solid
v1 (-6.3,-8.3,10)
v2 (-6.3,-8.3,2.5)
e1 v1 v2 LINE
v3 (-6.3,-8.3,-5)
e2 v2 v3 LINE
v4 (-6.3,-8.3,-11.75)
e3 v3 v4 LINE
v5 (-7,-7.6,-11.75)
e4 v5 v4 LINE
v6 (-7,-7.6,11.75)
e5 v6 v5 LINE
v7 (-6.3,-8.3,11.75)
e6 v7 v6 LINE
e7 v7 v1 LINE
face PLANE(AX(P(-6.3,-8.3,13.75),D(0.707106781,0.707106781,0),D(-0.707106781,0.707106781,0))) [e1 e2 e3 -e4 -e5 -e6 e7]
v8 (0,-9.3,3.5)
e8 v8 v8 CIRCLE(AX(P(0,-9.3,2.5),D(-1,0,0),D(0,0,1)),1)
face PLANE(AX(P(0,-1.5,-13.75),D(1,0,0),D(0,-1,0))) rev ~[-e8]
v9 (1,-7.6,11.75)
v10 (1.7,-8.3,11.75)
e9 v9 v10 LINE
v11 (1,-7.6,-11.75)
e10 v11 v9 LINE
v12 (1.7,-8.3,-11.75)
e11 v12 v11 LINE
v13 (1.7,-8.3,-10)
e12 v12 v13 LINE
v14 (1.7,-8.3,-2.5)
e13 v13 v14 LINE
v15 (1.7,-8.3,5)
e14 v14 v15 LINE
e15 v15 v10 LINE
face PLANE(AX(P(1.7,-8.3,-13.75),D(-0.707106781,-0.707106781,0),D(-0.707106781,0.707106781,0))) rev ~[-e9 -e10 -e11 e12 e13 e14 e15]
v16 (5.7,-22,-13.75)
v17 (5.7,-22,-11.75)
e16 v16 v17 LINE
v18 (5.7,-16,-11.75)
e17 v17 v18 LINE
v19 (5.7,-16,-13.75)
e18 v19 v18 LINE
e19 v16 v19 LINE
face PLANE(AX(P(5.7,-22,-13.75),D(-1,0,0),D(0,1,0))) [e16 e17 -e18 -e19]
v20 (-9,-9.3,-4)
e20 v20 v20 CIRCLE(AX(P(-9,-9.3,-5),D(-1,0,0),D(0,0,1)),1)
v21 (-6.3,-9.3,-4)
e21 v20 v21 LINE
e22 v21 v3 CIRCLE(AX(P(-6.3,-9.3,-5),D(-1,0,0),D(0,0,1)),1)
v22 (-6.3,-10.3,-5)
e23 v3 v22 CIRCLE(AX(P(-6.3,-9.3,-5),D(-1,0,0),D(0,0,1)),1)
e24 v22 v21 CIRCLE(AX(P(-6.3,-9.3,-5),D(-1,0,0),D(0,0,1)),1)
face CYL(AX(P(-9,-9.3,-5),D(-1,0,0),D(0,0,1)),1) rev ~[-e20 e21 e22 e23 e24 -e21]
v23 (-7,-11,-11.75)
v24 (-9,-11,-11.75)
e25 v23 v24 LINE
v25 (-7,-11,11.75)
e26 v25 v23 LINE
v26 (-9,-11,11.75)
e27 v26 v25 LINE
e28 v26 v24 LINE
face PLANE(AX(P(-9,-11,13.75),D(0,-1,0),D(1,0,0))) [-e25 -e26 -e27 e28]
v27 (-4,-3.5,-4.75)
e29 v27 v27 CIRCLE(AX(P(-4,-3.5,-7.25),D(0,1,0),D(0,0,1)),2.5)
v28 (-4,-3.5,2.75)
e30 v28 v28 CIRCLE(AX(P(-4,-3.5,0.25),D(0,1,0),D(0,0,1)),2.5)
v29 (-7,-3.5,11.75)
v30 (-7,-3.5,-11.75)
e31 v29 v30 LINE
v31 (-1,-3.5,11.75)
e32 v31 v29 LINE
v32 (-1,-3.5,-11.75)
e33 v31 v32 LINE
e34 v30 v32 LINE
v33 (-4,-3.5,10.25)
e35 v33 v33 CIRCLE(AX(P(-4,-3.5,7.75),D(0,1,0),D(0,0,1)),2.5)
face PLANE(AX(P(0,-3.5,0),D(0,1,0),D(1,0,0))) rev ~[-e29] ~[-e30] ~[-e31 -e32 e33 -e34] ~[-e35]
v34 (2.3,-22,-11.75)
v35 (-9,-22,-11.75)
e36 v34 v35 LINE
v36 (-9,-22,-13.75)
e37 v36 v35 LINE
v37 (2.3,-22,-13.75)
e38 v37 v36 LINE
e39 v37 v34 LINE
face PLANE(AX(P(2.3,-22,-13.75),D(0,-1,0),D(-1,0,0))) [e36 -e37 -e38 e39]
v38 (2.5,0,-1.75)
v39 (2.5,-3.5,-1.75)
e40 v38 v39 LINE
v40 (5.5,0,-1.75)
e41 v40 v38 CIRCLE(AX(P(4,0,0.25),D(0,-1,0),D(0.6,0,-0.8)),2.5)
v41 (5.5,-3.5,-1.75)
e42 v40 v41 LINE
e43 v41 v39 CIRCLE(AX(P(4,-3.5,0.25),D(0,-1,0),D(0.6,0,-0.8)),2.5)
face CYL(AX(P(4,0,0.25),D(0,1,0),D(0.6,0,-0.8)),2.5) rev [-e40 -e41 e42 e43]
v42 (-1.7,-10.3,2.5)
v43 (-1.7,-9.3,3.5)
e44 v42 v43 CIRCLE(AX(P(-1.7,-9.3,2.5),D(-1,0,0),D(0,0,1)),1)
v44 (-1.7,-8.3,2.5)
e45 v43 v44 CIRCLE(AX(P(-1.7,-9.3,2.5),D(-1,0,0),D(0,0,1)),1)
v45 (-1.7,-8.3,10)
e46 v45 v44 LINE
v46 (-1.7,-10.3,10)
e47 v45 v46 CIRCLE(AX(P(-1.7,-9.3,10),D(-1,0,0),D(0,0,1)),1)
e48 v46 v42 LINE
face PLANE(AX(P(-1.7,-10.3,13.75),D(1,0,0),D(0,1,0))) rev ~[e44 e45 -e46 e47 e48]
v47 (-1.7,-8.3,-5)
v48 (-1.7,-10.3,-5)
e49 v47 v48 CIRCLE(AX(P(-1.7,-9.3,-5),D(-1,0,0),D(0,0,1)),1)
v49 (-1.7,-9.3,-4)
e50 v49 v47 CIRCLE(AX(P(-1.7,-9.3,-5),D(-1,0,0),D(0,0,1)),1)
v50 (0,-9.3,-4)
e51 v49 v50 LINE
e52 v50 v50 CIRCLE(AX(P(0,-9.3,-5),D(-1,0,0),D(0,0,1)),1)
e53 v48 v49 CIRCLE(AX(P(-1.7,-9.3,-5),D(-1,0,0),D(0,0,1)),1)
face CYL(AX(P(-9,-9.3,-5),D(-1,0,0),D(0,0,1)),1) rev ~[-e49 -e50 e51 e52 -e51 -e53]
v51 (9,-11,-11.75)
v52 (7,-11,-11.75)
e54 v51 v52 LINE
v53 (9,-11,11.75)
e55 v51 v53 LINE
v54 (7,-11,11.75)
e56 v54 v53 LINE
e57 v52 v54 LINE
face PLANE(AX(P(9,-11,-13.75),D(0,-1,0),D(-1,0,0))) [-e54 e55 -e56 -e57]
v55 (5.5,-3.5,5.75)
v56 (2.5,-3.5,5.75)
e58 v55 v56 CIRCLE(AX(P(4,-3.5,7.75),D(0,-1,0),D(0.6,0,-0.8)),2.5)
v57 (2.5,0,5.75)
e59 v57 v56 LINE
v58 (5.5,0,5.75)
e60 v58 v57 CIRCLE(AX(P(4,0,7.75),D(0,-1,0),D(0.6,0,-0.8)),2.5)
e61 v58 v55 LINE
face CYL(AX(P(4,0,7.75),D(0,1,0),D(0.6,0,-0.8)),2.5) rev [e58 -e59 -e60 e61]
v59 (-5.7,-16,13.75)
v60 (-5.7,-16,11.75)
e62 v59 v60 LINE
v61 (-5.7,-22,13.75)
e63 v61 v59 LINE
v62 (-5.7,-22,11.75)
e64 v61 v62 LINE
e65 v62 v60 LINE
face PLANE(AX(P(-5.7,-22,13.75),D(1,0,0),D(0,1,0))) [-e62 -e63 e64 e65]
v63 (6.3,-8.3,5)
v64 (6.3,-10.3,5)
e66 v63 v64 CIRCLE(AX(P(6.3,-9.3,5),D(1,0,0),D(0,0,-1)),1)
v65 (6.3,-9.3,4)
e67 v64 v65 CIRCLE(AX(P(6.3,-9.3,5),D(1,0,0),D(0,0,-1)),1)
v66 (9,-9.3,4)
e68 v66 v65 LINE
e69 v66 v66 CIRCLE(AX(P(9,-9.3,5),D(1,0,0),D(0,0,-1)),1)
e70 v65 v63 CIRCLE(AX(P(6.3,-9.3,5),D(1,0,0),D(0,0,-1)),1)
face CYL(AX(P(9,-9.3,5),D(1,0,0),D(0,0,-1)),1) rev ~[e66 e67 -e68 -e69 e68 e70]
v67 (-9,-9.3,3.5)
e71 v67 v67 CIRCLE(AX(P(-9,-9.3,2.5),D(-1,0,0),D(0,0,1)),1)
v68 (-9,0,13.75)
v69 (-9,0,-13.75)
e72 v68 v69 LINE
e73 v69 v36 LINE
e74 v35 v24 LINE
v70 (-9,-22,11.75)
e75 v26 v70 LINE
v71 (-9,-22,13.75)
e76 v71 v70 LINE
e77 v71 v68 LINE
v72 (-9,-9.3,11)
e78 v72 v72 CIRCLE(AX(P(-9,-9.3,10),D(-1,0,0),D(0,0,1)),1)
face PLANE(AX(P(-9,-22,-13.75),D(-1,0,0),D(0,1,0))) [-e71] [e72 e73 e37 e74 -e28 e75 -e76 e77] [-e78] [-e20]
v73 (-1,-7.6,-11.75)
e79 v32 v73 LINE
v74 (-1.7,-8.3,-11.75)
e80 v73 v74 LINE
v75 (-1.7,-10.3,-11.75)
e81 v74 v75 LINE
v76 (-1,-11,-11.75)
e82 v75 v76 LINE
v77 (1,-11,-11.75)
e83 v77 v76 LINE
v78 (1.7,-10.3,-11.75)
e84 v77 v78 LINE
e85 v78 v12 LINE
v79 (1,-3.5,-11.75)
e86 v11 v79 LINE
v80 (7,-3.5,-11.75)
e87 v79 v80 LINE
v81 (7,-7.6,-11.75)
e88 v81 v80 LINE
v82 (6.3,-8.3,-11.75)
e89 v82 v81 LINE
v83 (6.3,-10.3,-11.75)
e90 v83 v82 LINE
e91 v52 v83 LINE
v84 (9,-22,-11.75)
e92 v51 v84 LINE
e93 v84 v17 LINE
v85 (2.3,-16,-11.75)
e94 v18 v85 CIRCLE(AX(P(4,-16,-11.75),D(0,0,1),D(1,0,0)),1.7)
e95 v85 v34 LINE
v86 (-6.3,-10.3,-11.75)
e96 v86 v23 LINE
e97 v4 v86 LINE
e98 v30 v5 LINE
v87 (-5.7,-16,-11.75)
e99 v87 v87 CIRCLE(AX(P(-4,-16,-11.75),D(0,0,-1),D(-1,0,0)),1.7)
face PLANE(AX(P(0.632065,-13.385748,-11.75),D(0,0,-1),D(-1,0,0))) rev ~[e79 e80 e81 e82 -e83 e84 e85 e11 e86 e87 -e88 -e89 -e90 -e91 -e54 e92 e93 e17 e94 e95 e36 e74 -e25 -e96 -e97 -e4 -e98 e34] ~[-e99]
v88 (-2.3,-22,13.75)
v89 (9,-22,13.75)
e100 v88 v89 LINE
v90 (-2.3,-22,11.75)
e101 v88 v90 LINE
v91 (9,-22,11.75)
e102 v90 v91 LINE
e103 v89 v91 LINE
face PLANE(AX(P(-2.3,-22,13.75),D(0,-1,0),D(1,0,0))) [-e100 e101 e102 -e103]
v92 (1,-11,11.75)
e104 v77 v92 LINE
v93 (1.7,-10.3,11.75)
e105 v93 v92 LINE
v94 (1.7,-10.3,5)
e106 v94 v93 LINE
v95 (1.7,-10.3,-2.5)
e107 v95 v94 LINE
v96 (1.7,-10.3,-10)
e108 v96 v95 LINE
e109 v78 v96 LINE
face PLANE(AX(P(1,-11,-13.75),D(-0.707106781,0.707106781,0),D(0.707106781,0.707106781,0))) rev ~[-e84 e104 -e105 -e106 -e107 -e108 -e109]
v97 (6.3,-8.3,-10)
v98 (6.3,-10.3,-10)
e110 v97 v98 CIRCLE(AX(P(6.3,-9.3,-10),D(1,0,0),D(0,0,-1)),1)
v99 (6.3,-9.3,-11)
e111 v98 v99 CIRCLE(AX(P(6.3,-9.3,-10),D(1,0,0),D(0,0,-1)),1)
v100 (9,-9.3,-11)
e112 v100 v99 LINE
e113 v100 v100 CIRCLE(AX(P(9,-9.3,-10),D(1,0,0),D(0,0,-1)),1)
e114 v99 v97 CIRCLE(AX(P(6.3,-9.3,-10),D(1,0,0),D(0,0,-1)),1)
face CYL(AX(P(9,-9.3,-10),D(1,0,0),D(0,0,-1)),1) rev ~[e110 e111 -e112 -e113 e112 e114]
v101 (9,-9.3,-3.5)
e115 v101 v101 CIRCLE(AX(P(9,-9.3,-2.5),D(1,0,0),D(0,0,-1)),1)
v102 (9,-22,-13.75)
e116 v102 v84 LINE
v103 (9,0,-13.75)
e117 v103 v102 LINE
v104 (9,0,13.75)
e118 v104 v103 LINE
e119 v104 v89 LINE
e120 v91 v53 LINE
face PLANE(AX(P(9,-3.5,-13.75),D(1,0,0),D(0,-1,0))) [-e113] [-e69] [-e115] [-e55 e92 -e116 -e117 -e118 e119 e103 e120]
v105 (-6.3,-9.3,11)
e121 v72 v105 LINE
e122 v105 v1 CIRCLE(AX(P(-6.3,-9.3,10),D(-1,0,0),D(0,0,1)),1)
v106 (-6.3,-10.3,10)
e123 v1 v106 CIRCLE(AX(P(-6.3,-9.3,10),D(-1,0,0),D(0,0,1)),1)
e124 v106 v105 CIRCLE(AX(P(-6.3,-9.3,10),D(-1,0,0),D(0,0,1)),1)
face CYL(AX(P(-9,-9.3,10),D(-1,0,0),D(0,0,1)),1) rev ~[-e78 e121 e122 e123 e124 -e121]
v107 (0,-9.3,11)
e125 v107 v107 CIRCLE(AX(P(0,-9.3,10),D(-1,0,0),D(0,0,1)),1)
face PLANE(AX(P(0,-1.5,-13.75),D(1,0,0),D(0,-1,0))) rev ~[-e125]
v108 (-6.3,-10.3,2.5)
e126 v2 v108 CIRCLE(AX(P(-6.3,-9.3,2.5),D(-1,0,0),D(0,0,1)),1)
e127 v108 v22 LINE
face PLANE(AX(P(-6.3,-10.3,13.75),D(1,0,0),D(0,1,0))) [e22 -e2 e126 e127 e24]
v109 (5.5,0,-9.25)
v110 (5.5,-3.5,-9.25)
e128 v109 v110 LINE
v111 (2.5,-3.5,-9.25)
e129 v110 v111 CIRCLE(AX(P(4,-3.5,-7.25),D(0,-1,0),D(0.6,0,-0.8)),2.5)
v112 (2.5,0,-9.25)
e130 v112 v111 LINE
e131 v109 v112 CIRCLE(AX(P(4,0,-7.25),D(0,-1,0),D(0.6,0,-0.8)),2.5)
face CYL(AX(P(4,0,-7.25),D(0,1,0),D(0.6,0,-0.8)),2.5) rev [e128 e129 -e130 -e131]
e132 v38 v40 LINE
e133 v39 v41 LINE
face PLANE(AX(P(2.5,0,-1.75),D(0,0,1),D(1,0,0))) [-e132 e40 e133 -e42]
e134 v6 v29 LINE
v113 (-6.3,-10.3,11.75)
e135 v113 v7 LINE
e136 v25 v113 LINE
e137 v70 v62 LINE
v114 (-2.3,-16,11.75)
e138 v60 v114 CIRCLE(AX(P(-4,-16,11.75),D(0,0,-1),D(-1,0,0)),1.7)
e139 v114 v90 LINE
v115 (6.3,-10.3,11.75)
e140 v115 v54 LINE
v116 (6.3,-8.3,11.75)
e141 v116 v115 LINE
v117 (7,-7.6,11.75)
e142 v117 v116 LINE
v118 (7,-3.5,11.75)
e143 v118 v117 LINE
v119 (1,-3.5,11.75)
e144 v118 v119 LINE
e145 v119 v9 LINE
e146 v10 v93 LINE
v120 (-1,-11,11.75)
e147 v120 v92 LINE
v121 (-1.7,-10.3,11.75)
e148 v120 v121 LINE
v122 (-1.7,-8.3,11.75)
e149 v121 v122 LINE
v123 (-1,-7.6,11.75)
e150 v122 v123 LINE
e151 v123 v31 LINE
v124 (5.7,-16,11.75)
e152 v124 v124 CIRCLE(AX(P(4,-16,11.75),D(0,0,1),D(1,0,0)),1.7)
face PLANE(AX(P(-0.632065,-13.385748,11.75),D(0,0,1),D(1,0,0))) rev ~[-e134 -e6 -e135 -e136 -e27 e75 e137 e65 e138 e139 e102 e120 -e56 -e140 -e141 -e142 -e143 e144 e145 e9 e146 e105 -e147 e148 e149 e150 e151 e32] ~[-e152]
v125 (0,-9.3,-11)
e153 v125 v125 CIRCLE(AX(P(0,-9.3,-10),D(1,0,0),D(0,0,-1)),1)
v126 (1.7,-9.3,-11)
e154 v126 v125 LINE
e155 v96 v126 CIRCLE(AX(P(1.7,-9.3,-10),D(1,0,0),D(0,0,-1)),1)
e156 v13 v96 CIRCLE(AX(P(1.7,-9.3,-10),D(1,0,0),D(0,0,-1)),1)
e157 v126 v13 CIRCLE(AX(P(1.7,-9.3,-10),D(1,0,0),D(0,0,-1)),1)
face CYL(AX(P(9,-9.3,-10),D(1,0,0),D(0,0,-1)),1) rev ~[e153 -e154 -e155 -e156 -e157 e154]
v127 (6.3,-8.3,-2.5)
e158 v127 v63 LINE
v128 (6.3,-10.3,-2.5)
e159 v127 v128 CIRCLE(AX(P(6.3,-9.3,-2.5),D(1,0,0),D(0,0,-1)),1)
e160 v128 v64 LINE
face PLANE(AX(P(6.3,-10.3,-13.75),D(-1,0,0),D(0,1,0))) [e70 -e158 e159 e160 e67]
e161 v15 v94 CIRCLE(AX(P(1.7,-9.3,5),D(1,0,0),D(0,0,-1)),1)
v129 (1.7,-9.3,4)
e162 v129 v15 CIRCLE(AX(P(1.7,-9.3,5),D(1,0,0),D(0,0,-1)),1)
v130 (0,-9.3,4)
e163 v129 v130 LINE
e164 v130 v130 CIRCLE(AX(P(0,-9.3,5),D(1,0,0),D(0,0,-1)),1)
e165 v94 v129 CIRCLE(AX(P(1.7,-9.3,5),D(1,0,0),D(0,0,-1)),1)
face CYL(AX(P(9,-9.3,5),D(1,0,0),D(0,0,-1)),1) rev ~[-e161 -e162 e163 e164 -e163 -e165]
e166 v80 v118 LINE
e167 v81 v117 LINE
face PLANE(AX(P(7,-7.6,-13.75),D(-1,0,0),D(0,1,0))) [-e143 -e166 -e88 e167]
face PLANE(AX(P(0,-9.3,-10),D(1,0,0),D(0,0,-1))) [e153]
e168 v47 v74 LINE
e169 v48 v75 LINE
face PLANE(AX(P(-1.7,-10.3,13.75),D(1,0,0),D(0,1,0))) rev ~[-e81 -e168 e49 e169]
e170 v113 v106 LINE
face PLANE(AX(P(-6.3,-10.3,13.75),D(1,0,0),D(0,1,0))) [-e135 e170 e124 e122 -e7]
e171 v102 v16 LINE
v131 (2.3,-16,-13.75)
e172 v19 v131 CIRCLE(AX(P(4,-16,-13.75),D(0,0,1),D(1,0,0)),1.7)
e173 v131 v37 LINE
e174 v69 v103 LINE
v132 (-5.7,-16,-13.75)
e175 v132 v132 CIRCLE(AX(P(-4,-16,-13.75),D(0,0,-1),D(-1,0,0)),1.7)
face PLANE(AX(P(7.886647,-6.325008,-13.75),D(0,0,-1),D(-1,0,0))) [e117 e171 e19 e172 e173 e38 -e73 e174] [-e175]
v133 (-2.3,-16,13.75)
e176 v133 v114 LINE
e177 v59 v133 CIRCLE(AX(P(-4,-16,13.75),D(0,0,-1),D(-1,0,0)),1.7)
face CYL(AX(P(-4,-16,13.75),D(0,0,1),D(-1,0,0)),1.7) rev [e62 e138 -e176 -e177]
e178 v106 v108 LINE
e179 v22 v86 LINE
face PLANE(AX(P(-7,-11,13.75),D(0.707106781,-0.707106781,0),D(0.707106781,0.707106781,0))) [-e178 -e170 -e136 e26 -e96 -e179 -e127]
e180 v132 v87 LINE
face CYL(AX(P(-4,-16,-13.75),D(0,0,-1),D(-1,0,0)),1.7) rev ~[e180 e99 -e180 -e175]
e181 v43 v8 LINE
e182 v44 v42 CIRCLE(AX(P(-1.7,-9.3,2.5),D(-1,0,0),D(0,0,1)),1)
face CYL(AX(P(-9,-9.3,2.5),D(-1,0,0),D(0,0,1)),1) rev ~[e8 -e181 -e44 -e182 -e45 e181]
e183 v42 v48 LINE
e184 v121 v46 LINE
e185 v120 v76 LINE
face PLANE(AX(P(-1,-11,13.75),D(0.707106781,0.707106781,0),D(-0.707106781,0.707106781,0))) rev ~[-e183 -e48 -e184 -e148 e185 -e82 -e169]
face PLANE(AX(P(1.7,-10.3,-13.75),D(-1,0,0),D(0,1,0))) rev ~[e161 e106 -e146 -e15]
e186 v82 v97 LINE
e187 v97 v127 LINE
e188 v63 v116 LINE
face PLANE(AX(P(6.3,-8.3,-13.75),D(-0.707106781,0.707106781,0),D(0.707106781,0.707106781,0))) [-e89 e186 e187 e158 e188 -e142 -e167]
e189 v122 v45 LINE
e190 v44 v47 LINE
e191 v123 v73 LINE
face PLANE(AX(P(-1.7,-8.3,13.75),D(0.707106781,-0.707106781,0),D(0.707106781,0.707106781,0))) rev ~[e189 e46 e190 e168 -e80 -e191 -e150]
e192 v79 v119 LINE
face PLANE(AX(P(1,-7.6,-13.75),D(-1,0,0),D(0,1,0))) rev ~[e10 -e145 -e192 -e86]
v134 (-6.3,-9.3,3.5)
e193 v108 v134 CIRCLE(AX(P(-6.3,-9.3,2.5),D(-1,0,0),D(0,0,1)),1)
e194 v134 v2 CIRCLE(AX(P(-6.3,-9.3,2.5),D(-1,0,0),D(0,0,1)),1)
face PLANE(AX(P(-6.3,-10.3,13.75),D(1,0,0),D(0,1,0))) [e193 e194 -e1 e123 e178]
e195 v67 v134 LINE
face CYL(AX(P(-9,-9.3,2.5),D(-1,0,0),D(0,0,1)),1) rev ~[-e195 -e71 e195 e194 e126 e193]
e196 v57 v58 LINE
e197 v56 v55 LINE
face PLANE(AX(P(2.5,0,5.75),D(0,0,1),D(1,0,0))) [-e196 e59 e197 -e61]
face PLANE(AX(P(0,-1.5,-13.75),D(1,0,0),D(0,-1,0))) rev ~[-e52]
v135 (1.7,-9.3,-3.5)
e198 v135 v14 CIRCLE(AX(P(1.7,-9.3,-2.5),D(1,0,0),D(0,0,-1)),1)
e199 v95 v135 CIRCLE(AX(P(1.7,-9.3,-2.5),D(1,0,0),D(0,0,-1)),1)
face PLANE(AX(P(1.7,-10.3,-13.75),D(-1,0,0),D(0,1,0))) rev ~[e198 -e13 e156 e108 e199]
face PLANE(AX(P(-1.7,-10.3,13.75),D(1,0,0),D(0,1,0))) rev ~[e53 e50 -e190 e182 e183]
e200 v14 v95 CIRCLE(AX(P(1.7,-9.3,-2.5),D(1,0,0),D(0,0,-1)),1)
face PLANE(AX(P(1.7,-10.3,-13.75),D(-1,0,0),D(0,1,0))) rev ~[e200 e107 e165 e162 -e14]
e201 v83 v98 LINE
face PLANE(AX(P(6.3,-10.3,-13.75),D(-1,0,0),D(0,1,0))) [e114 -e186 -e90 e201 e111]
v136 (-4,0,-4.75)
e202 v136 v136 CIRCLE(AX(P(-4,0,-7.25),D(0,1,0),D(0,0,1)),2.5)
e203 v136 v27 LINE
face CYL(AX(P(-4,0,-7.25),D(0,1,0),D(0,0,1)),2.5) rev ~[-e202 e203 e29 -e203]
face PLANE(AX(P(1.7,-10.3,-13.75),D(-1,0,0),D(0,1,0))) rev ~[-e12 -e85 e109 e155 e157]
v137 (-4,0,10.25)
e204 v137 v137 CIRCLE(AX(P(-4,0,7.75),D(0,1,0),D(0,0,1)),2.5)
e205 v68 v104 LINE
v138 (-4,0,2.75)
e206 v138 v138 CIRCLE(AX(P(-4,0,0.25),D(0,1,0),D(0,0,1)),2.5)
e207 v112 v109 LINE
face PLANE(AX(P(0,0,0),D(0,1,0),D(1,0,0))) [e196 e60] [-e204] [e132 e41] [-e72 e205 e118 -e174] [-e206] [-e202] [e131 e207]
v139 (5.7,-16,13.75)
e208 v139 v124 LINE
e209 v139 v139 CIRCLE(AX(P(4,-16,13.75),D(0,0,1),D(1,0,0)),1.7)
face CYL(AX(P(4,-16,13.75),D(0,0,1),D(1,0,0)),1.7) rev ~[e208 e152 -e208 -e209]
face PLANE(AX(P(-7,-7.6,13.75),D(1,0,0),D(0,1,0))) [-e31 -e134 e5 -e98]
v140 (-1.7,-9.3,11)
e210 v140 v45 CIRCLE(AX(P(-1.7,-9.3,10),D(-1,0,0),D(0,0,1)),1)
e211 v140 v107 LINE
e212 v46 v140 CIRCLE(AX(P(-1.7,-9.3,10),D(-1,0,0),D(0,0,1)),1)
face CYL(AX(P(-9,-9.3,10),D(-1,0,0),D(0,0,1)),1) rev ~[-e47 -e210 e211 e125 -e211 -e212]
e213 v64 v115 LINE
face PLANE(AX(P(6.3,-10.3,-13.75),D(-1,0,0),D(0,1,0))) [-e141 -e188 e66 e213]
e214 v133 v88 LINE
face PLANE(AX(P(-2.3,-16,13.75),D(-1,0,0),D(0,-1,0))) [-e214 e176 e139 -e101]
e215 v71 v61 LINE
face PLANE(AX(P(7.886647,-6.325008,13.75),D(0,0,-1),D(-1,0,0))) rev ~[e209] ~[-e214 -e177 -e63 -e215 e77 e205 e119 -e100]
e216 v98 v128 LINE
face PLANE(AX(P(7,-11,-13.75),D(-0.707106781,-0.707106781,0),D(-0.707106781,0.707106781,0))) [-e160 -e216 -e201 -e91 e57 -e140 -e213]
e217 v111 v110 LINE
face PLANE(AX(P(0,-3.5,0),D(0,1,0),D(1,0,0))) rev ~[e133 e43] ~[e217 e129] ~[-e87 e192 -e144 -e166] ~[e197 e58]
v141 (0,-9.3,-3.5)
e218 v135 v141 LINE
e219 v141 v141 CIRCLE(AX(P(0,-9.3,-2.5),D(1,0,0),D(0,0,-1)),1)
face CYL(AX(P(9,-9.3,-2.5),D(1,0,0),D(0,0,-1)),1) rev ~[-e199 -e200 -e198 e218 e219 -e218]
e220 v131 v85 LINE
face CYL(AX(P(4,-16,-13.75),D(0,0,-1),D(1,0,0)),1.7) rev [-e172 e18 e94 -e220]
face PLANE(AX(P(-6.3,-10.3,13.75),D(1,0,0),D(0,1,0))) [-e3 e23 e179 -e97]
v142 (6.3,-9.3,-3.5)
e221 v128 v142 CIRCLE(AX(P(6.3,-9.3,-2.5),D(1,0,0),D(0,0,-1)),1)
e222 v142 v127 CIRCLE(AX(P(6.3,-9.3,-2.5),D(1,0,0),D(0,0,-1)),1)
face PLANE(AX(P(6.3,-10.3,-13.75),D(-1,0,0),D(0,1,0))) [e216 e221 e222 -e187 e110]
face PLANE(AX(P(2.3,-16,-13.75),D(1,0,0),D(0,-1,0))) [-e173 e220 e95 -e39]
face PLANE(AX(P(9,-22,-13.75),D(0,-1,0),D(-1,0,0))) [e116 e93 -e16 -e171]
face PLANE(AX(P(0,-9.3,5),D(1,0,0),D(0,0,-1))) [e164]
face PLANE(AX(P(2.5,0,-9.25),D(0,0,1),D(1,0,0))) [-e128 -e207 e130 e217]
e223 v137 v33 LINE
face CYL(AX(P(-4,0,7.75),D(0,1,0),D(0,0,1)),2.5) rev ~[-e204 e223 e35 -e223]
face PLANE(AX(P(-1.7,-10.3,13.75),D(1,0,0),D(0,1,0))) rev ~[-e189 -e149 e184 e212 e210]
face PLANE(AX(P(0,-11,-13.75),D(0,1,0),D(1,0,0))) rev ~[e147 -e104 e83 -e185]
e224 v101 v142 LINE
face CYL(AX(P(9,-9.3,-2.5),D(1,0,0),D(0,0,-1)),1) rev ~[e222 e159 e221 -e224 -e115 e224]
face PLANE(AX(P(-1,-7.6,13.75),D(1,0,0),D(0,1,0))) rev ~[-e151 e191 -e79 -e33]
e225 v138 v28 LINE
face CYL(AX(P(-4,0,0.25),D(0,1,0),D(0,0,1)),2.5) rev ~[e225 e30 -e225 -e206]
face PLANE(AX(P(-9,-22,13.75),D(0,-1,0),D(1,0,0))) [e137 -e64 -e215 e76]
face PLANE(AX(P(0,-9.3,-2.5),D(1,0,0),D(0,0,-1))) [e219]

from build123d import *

# Parameters (mm, degrees)
SKETCH_1_W               = 18
SKETCH_1_H               = 27.5
SKETCH_1_R               = 2.5
TOP_SURFACE_DEPTH        = 3.5
SKETCH_2_R               = 1.7
FRONT_WALL_DEPTH         = 2
PATTERN_CIRCULAR_1_COUNT = 2
SIDE_RAILS_DEPTH         = 27.5
SKETCH_4_R               = 1
SEPARATORS_CUTOUTS_DEPTH = 9
PATTERN_CIRCULAR_5_COUNT = 2


with BuildPart() as part:
    # Эскиз1 → top-surface (new body)
    with BuildSketch(Plane(origin=(0, 0, 0), x_dir=(1, 0, 0), z_dir=(0, 1, 0))):
        Rectangle(SKETCH_1_W, SKETCH_1_H)
        with Locations(Location((-4, 7.25, 0), (0, 0, 270))):
            Circle(SKETCH_1_R, mode=Mode.SUBTRACT)
        with Locations(Location((-4, -0.25, 0), (0, 0, 270))):
            Circle(SKETCH_1_R, mode=Mode.SUBTRACT)
        with Locations(Location((-4, -7.75, 0), (0, 0, 270))):
            Circle(SKETCH_1_R, mode=Mode.SUBTRACT)
        with BuildLine():
            Line((2.5, 9.25), (5.5, 9.25))
            ThreePointArc((5.5, 9.25), (4, 4.75), (2.5, 9.25))
        make_face(mode=Mode.SUBTRACT)
        with BuildLine():
            Line((2.5, 1.75), (5.5, 1.75))
            ThreePointArc((5.5, 1.75), (4, -2.75), (2.5, 1.75))
        make_face(mode=Mode.SUBTRACT)
        with BuildLine():
            Line((2.5, -5.75), (5.5, -5.75))
            ThreePointArc((5.5, -5.75), (4, -10.25), (2.5, -5.75))
        make_face(mode=Mode.SUBTRACT)
    extrude(amount=-TOP_SURFACE_DEPTH)

    # Эскиз2 → front-wall (add)
    with BuildSketch(Plane.XY.offset(13.75)):
        with BuildLine():
            Line((9, -3.5), (-9, -3.5))
            Line((-9, -3.5), (-9, -22))
            Line((-9, -22), (-5.7, -22))
            Line((-5.7, -22), (-5.7, -16))
            ThreePointArc((-5.7, -16), (-4, -14.3), (-2.3, -16))
            Line((-2.3, -16), (-2.3, -22))
            Line((-2.3, -22), (9, -22))
            Line((9, -22), (9, -3.5))
        make_face()
        with Locations((4, -16)):
            Circle(SKETCH_2_R, mode=Mode.SUBTRACT)
    front_wall = extrude(amount=-FRONT_WALL_DEPTH)

    # Круговой массив1: front-wall ×2 about axis
    pattern_circular_1_axis = Axis((0, 0, 0), (0, 1, 0))
    for i in range(1, PATTERN_CIRCULAR_1_COUNT):
        add(front_wall.rotate(pattern_circular_1_axis, i * 360 / PATTERN_CIRCULAR_1_COUNT))

    # Эскиз5 → side-rails (add)
    with BuildSketch(Plane.XY.offset(13.75)):
        Polygon((-9, -1.5), (-9, -11), (-7, -11), (-6.3, -10.3), (-6.3, -8.3), (-7, -7.6), (-7, -1.5), align=None)
        Polygon((-1.7, -8.3), (-1, -7.6), (-1, -1.5), (0, -1.5), (0, -11), (-1, -11), (-1.7, -10.3), align=None)
    side_rails = extrude(amount=-SIDE_RAILS_DEPTH)

    # Эскиз4 → separators-cutouts (cut)
    with BuildSketch(Plane.ZY.offset(9)):
        with Locations((-5, -9.3)):
            Circle(SKETCH_4_R)
        with Locations((2.5, -9.3)):
            Circle(SKETCH_4_R)
        with Locations((10, -9.3)):
            Circle(SKETCH_4_R)
    separators_cutouts = extrude(amount=-SEPARATORS_CUTOUTS_DEPTH, mode=Mode.SUBTRACT)

    # Круговой массив5: side-rails, separators-cutouts ×2 about axis
    pattern_circular_5_axis = Axis((0, 0, 0), (0, 1, 0))
    add([side_rails.rotate(pattern_circular_5_axis, i * 360 / PATTERN_CIRCULAR_5_COUNT) for i in range(1, PATTERN_CIRCULAR_5_COUNT)])
    add([separators_cutouts.rotate(pattern_circular_5_axis, i * 360 / PATTERN_CIRCULAR_5_COUNT) for i in range(1, PATTERN_CIRCULAR_5_COUNT)], mode=Mode.SUBTRACT)


solid = part.part
